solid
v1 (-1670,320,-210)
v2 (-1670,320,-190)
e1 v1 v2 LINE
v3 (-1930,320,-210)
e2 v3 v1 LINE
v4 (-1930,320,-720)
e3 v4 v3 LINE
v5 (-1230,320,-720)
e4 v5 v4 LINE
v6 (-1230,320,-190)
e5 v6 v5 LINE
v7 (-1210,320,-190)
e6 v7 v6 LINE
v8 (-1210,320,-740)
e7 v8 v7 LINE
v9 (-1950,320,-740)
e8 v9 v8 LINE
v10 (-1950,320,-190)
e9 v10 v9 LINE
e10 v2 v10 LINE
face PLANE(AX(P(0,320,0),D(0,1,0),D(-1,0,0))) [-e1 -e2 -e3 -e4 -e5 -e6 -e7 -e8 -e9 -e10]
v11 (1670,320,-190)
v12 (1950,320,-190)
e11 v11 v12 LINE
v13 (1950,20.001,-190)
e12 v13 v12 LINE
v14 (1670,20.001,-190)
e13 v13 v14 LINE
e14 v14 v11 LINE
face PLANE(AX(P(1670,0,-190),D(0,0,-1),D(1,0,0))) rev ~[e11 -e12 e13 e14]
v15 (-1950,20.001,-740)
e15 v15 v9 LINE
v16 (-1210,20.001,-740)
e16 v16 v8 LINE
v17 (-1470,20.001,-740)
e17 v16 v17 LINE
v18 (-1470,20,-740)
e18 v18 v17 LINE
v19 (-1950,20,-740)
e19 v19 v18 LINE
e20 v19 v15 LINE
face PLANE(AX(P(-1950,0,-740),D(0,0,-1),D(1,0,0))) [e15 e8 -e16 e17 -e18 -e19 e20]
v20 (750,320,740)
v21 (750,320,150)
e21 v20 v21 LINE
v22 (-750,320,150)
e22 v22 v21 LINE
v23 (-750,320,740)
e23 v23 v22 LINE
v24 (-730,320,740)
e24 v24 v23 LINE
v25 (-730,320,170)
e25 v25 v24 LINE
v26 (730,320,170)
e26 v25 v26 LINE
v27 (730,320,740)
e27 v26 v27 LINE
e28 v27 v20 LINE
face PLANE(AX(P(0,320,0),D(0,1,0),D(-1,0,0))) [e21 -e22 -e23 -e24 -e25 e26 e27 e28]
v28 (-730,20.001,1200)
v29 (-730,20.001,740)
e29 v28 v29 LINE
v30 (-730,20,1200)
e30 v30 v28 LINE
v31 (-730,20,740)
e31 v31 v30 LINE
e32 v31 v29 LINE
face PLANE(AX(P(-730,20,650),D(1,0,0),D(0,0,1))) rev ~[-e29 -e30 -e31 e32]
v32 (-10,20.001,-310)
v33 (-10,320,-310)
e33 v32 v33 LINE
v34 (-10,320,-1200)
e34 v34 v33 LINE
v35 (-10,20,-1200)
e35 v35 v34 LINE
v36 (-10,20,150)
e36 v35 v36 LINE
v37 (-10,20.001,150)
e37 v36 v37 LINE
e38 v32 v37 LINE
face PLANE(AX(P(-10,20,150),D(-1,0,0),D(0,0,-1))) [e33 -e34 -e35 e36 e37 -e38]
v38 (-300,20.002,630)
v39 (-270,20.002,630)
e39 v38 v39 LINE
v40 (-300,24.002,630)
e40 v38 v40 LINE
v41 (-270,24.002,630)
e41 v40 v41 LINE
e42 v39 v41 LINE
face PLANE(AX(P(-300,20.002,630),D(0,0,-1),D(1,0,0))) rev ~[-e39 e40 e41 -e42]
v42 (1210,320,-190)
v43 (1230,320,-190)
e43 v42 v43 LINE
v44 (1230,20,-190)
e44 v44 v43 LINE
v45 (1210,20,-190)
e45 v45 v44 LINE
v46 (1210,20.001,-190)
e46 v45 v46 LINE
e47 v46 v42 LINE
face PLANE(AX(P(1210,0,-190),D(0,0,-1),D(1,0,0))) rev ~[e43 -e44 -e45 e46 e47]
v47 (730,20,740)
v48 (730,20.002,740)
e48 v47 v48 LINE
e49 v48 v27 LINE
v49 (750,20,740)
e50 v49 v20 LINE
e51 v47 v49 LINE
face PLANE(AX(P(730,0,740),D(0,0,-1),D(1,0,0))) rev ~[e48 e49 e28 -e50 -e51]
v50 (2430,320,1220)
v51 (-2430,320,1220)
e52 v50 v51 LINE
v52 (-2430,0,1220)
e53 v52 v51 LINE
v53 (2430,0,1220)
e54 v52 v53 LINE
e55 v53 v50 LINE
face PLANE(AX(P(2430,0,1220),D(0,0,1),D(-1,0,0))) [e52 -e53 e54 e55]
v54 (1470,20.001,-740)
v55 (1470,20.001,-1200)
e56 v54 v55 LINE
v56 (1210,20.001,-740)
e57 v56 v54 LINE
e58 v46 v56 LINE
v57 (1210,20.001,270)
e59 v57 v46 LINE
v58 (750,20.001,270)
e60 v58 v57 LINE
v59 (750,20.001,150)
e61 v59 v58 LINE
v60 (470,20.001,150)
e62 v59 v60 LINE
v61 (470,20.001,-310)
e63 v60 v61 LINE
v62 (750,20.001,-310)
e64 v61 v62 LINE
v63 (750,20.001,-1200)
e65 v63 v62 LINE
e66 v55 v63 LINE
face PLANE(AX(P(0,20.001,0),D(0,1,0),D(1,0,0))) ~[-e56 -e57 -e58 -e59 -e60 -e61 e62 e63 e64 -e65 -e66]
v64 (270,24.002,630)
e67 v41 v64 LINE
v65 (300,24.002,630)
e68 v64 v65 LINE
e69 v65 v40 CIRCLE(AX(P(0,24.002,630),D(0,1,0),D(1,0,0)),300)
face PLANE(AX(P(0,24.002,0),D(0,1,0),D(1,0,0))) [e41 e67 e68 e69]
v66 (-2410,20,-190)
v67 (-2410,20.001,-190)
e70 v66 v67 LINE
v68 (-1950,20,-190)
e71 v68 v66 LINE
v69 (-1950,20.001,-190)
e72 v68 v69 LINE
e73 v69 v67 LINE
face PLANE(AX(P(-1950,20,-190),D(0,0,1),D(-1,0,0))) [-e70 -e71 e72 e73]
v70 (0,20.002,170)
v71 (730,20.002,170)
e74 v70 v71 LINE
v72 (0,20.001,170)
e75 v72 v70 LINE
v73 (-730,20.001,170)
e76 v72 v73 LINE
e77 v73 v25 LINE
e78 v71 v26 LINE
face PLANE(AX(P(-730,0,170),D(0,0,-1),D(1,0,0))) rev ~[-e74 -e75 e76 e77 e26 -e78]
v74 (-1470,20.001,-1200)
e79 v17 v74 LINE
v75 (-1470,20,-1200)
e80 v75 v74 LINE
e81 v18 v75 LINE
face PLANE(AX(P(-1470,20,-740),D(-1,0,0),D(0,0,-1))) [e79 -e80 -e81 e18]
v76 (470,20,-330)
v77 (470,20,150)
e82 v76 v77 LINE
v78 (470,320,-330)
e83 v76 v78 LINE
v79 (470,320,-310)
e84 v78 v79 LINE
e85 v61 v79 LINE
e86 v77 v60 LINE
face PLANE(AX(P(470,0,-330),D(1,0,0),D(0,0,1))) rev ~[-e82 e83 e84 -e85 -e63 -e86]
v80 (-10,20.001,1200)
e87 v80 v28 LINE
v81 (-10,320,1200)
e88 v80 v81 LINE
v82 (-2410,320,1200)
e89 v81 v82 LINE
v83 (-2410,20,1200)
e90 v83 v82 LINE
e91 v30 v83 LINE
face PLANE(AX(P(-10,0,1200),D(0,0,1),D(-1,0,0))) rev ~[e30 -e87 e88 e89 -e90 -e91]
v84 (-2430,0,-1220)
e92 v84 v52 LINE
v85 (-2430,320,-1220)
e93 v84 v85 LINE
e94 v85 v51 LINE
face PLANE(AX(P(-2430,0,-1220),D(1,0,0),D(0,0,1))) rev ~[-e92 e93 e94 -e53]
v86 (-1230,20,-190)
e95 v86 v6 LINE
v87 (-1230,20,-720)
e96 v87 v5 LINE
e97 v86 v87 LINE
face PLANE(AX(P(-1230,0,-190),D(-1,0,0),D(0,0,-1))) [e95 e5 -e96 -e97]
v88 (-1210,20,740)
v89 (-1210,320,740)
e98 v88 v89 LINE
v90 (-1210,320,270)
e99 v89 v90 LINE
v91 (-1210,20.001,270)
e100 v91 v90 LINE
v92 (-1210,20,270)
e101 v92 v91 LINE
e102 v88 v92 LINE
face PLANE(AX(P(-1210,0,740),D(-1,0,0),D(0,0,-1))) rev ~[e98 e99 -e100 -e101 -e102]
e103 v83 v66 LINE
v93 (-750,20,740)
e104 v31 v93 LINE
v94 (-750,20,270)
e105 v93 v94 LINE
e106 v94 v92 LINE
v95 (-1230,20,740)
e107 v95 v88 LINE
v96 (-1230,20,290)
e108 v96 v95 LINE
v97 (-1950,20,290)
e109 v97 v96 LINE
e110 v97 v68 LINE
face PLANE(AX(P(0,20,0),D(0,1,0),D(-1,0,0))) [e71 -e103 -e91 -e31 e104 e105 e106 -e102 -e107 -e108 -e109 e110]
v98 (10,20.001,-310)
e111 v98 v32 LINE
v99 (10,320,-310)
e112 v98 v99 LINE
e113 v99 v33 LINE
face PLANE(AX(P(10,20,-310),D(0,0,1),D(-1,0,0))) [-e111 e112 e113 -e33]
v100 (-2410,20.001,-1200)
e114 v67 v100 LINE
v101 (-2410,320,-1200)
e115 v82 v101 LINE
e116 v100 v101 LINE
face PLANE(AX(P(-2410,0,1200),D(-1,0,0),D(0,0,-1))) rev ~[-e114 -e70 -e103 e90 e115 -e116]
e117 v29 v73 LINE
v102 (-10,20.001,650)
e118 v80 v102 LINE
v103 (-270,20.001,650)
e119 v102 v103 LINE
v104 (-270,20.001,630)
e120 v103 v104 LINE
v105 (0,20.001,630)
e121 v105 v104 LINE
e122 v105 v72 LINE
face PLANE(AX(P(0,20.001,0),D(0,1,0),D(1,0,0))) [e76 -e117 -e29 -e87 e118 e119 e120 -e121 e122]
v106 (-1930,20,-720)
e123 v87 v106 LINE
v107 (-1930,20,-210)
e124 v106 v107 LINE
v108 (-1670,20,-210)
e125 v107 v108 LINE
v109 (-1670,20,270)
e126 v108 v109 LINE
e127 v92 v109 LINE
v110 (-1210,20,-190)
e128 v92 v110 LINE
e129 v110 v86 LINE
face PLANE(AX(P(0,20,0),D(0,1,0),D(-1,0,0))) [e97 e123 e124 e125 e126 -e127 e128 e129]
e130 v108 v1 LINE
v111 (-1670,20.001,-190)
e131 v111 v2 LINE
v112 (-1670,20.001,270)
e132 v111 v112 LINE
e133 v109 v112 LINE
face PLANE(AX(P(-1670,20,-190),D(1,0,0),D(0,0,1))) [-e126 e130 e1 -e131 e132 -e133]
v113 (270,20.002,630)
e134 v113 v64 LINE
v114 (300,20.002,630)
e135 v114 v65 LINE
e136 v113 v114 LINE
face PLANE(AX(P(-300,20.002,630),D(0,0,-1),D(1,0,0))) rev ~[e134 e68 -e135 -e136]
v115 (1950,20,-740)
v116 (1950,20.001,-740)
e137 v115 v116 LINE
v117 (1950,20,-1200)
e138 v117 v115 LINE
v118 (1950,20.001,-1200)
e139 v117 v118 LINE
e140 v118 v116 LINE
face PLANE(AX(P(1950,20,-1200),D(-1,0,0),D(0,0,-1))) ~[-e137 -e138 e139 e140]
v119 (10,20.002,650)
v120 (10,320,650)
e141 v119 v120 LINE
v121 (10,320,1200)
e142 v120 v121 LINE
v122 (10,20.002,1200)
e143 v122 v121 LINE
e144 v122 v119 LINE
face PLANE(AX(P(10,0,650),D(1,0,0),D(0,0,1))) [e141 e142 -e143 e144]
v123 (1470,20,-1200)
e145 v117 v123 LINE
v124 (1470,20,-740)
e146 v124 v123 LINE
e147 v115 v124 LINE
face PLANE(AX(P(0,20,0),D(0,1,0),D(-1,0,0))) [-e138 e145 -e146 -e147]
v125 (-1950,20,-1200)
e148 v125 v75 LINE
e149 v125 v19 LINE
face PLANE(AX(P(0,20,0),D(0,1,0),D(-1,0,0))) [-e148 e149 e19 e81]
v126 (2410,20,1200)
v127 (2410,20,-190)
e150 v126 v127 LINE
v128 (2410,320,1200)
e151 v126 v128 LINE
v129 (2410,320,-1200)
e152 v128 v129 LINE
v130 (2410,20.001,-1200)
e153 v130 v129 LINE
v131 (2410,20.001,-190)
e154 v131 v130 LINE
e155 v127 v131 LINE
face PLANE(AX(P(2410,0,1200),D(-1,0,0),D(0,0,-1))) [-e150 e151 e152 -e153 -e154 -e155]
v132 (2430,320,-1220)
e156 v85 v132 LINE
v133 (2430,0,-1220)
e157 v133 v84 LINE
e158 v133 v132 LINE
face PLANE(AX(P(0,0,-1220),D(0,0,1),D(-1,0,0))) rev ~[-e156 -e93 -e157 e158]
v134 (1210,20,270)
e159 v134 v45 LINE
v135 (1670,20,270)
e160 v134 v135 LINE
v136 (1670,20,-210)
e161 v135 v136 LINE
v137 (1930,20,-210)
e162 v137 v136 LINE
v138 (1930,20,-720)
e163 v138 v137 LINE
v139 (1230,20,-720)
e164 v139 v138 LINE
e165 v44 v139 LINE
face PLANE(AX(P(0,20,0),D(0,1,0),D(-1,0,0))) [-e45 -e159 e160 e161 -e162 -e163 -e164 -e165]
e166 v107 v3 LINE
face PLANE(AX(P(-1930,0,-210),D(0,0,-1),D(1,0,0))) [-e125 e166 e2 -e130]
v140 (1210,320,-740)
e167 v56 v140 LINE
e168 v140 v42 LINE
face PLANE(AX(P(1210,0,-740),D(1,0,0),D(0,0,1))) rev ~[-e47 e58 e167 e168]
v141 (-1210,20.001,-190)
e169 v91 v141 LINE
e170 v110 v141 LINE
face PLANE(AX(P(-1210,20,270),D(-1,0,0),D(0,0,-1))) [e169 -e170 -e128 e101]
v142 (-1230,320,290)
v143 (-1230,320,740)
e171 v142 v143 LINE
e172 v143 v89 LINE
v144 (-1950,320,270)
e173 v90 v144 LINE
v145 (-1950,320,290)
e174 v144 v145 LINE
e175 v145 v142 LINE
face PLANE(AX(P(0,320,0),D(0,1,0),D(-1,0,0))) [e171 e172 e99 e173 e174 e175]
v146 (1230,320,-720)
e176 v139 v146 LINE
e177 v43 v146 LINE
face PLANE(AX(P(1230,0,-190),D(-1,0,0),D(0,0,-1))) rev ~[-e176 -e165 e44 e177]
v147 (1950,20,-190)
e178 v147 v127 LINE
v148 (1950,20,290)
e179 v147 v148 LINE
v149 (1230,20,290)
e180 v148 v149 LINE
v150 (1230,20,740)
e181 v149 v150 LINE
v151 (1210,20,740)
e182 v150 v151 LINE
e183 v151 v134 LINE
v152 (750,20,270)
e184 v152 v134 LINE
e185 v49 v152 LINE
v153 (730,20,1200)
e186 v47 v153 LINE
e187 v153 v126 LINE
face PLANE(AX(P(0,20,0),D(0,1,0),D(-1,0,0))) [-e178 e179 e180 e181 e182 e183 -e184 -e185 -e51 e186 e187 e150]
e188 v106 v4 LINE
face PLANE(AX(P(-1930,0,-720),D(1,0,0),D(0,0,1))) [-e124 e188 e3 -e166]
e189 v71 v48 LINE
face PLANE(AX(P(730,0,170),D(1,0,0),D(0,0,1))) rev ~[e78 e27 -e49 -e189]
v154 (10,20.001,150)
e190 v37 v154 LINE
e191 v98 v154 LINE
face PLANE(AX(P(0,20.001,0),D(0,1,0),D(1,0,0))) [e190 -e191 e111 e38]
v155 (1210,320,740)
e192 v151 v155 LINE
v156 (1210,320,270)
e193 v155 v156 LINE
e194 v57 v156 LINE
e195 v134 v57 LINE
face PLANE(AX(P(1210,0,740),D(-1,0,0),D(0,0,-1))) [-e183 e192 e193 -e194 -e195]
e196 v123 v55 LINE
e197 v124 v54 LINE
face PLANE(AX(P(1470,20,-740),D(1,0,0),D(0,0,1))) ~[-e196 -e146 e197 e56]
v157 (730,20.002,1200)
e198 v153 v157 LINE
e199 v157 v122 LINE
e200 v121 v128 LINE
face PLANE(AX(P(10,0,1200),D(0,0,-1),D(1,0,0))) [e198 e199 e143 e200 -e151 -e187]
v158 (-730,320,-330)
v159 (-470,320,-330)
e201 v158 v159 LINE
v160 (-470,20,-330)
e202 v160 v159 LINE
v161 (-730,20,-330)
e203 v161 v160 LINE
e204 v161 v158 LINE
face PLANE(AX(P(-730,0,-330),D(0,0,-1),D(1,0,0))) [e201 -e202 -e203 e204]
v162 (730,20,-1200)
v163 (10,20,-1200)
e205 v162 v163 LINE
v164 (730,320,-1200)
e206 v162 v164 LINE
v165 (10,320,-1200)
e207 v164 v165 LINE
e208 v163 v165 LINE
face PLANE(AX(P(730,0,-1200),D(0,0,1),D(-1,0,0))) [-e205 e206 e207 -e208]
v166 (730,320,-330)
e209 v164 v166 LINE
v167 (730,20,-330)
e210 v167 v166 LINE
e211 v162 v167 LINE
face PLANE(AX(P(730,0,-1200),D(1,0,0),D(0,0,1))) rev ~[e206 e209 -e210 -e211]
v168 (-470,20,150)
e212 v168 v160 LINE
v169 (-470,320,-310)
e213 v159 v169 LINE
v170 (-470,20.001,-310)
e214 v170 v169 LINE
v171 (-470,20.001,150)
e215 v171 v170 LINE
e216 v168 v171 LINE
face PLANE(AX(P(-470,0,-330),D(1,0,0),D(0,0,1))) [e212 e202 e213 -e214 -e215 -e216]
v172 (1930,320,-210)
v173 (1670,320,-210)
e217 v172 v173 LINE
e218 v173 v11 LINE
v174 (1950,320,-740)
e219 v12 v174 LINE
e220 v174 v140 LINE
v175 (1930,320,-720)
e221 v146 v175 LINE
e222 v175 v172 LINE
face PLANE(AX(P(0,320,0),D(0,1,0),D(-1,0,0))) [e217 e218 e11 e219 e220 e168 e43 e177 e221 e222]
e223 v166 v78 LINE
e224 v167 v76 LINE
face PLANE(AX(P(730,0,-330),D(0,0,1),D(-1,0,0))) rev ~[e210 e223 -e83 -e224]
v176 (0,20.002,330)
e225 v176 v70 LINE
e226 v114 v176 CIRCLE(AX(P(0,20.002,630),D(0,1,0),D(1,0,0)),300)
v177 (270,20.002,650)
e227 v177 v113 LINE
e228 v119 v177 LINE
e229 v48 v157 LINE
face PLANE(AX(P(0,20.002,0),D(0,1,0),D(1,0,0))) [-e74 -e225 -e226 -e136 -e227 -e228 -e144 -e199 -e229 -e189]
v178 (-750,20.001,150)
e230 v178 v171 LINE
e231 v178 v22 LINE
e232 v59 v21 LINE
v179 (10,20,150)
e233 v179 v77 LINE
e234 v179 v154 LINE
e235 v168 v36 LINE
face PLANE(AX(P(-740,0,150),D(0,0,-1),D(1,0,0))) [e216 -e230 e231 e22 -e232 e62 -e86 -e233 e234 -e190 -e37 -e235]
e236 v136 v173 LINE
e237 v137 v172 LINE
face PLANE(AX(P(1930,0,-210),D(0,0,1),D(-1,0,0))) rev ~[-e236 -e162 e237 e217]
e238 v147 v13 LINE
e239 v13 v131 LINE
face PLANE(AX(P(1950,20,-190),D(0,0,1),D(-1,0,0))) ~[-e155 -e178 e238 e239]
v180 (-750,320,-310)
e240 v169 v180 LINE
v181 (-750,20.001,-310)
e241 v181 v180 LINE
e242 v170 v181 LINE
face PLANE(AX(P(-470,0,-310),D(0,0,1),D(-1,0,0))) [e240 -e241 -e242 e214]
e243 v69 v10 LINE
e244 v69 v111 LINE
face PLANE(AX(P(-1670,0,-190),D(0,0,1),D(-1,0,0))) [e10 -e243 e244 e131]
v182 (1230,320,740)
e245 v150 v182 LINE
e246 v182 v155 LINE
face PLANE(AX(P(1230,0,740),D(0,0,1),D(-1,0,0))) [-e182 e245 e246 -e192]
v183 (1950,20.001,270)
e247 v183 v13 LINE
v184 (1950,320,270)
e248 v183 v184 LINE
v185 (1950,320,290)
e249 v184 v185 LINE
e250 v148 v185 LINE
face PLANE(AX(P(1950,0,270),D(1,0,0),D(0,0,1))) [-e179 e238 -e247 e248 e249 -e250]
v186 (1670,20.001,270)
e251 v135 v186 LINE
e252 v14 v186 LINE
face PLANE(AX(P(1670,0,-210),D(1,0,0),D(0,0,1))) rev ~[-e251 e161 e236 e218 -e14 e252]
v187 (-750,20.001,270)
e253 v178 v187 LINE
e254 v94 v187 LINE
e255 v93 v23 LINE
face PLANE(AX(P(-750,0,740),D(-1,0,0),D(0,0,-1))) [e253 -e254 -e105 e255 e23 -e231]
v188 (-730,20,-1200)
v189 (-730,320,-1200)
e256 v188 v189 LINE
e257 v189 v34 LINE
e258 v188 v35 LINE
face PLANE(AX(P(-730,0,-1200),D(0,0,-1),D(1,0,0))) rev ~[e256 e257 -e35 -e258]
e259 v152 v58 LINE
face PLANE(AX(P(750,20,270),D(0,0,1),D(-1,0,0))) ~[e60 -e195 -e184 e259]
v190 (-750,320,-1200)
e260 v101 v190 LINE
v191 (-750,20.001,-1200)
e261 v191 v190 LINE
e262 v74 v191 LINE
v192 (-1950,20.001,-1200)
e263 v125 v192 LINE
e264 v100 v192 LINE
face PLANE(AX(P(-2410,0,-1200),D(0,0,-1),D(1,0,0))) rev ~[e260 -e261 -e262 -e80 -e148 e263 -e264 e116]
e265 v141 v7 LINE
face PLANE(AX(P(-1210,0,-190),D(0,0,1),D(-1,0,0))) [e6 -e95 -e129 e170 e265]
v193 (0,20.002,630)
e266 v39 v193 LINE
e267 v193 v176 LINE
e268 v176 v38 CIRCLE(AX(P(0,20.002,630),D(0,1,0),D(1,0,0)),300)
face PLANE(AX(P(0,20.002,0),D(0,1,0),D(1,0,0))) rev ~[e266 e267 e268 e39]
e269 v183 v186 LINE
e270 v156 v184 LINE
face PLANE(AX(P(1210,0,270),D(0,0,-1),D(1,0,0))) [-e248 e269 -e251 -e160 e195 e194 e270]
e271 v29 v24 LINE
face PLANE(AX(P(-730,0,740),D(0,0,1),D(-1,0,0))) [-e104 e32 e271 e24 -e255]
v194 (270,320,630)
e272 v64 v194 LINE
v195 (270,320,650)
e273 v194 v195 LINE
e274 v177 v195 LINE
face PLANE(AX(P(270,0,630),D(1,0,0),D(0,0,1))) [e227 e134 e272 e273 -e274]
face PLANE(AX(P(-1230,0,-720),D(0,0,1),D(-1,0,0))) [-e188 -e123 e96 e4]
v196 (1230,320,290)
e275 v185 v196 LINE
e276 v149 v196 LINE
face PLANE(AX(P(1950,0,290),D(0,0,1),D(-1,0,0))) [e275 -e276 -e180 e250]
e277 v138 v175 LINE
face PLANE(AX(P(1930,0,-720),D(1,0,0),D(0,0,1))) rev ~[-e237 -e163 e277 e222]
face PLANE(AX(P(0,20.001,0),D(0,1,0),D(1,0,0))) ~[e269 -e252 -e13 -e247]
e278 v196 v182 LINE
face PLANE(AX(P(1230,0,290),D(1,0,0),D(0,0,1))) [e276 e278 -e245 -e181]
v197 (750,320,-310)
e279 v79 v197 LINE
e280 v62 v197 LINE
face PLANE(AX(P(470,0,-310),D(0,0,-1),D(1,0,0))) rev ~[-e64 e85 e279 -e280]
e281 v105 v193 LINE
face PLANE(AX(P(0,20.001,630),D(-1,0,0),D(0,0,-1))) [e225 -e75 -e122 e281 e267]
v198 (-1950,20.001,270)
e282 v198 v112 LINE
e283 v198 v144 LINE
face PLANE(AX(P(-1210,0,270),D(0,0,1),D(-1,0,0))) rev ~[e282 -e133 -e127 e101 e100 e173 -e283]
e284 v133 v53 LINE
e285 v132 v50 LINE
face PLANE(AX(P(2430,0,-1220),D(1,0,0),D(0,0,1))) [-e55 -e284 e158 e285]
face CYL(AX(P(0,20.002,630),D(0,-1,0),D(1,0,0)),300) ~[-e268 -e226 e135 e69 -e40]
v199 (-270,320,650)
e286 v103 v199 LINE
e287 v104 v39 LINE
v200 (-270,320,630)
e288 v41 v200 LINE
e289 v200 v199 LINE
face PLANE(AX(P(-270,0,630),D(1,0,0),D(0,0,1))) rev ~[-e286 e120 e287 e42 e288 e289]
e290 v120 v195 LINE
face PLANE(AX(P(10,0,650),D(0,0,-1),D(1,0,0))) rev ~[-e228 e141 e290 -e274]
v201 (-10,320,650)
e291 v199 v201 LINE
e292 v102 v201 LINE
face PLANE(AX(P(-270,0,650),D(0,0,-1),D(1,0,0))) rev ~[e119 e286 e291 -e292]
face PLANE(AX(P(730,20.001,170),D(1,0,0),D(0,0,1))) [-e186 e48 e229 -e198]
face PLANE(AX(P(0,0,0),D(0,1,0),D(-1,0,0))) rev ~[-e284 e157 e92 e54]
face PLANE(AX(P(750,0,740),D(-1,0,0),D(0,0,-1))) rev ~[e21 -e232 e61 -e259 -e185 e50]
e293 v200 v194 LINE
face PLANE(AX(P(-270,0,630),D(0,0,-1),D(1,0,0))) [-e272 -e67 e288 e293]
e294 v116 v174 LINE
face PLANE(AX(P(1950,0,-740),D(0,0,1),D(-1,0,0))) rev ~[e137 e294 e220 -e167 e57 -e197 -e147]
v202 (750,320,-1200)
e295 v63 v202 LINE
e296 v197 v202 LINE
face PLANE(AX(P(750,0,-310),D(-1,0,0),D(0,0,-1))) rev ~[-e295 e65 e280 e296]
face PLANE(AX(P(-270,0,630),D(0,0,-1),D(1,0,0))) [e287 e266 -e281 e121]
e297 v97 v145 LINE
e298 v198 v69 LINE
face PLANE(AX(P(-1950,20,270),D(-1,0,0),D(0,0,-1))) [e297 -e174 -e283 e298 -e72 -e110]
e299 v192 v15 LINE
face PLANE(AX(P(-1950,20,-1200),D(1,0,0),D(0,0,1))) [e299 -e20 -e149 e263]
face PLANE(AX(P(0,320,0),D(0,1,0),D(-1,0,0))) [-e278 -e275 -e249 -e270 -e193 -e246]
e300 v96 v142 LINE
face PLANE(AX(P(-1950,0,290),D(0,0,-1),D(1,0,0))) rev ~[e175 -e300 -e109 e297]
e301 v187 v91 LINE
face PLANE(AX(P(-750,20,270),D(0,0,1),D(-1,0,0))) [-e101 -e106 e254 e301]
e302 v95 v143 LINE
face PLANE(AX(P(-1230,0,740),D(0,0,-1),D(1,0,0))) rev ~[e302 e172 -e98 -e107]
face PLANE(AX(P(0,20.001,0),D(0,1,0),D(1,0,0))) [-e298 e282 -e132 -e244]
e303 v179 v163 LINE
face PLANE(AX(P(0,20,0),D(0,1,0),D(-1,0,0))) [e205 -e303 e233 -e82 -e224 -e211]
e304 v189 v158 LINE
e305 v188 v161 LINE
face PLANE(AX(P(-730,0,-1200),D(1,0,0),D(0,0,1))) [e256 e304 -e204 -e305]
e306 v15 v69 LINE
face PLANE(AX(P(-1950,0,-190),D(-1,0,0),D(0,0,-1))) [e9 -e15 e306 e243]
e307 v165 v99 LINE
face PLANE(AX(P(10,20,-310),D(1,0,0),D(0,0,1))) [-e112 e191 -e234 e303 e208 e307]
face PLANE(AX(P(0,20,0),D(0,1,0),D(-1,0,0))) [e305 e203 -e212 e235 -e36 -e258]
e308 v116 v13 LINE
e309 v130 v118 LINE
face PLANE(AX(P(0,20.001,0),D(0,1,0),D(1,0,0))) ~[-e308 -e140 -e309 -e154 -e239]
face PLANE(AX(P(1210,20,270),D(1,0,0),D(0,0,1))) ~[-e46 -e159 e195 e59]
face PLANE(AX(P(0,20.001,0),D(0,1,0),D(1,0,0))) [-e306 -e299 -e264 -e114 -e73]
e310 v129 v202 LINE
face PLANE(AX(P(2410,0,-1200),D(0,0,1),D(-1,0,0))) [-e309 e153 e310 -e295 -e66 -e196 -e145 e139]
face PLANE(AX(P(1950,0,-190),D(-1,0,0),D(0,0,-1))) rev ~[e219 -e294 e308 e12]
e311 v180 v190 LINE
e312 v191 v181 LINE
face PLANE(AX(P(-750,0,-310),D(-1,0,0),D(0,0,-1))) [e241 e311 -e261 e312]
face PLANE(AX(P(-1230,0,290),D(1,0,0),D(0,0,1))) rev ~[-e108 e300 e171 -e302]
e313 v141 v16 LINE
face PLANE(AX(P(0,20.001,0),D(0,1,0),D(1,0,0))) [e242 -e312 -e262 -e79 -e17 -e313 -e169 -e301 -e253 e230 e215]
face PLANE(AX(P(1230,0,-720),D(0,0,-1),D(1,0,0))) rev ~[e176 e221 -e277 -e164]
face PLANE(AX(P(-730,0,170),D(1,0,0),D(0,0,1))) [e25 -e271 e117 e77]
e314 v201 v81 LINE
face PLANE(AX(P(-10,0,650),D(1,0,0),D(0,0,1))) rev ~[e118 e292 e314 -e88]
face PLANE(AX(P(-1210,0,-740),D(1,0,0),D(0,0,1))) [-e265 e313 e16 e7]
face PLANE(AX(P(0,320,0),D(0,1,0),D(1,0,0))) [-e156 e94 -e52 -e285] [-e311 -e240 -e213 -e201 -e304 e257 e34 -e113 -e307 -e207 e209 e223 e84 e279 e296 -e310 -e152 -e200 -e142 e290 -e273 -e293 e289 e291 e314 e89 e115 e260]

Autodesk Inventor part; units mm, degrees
ref_plane "YZ Plane" through (0, 0, 0) normal (1, 0, 0) x (0, 1, 0)
ref_plane "XY Plane" through (0, 0, 0) normal (0, 0, 1) x (1, 0, 0)
sketch "Sketch1" plane through (0, 0, 0) normal (0, 1, 0) x (-1, 0, 0)
  line L0 (2430, 1220) -> (0, 1220)
  line L1 (0, -1220) -> (2430, -1220)
  line L2 (2430, -1220) -> (2430, 1220)
  line L3 (2410, 1200) -> (2410, -1200)
  line L4 (10, 650) -> (10, 1200)
  line L5 (740, 150) -> (0, 150)
  line L6 (730, 170) -> (730, 740)
  line L7 (730, 740) -> (750, 740)
  line L8 (750, 740) -> (750, 150)
  line L9 (750, 150) -> (740, 150)
  line L10 (1210, 740) -> (1210, 270)
  line L11 (1230, 290) -> (1230, 740)
  line L12 (1230, 740) -> (1210, 740)
  line L13 (270, 630) -> (270, 650)
  line L14 (10, 1200) -> (2410, 1200)
  line L15 (0, -330) -> (10, -330)
  line L16 (0, -330) -> (10, -330) construction
  line L17 (10, -330) -> (10, -1200)
  line L18 (730, -1200) -> (730, -330)
  line L19 (750, -1200) -> (1600, -1200) construction
  line L20 (730, -330) -> (470, -330)
  line L21 (470, -330) -> (470, -310)
  line L22 (470, -310) -> (750, -310)
  line L23 (750, -310) -> (750, -1200)
  line L24 (2410, -1200) -> (750, -1200)
  line L25 (730, -1200) -> (10, -1200)
  line L26 (0, -1200) -> (730, -1200) construction
  line L27 (750, -1200) -> (870, -1200) construction
  line L28 (1210, 270) -> (1950, 270)
  line L29 (1210, 270) -> (1950, 270) construction
  line L30 (1950, 270) -> (1950, 290)
  line L31 (1950, 290) -> (1230, 290)
  line L32 (1950, -190) -> (1950, -740)
  line L33 (1950, -740) -> (1210, -740)
  line L34 (1210, -740) -> (1210, -190)
  line L35 (1210, -190) -> (1230, -190)
  line L36 (1210, -190) -> (1230, -190) construction
  line L37 (1230, -190) -> (1230, -720)
  line L38 (1230, -720) -> (1930, -720)
  line L39 (1930, -720) -> (1930, -210)
  line L40 (1930, -210) -> (1670, -210)
  line L41 (1670, -210) -> (1670, -190)
  line L42 (1670, -190) -> (1950, -190)
  line L43 (-2430, 1220) -> (0, 1220)
  line L44 (0, -1220) -> (-2430, -1220)
  line L45 (-2430, -1220) -> (-2430, 1220)
  line L46 (-2410, 1200) -> (-2410, -1200)
  line L47 (-10, 650) -> (-10, 1200)
  line L48 (-740, 150) -> (0, 150)
  line L49 (-730, 170) -> (-730, 740)
  line L50 (-730, 740) -> (-750, 740)
  line L51 (-750, 740) -> (-750, 150)
  line L52 (-750, 150) -> (-740, 150)
  line L53 (-1210, 740) -> (-1210, 270)
  line L54 (-1230, 290) -> (-1230, 740)
  line L55 (-1230, 740) -> (-1210, 740)
  line L56 (-270, 630) -> (-270, 650)
  line L57 (-10, 1200) -> (-2410, 1200)
  line L58 (0, -330) -> (-10, -330)
  line L59 (0, -330) -> (-10, -330) construction
  line L60 (-10, -330) -> (-10, -1200)
  line L61 (-730, -1200) -> (-730, -330)
  line L62 (-750, -1200) -> (-1600, -1200) construction
  line L63 (-730, -330) -> (-470, -330)
  line L64 (-470, -330) -> (-470, -310)
  line L65 (-470, -310) -> (-750, -310)
  line L66 (-750, -310) -> (-750, -1200)
  line L67 (-2410, -1200) -> (-750, -1200)
  line L68 (-730, -1200) -> (-10, -1200)
  line L69 (0, -1200) -> (-730, -1200) construction
  line L70 (-750, -1200) -> (-870, -1200) construction
  line L71 (-1210, 270) -> (-1950, 270)
  line L72 (-1210, 270) -> (-1950, 270) construction
  line L73 (-1950, 270) -> (-1950, 290)
  line L74 (-1950, 290) -> (-1230, 290)
  line L75 (-1950, -190) -> (-1950, -740)
  line L76 (-1950, -740) -> (-1210, -740)
  line L77 (-1210, -740) -> (-1210, -190)
  line L78 (-1210, -190) -> (-1230, -190)
  line L79 (-1210, -190) -> (-1230, -190) construction
  line L80 (-1230, -190) -> (-1230, -720)
  line L81 (-1230, -720) -> (-1930, -720)
  line L82 (-1930, -720) -> (-1930, -210)
  line L83 (-1930, -210) -> (-1670, -210)
  line L84 (-1670, -210) -> (-1670, -190)
  line L85 (-1670, -190) -> (-1950, -190)
  line L86 (270, 630) -> (-270, 630)
  line L87 (270, 650) -> (10, 650)
  line L88 (-10, 650) -> (-270, 650)
  line L89 (730, 170) -> (-730, 170)
  point P0 (0, 0)
  dimension "d274" = 4860
  dimension "d275" = 2440
  dimension "d276" = 2400
  dimension "d277" = 2400
  dimension "d278" = 720
  dimension "d279" = 450
  dimension "d280" = 20
  dimension "d281" = 470
  dimension "d282" = 740
  dimension "d283" = 20
  dimension "d284" = 700
  dimension "d285" = 510
  dimension "d286" = 260
  dimension "d287" = 20
  dimension "d288" = 280
  dimension "d289" = 550
  dimension "d290" = 740
  dimension "d291" = 550
  dimension "d292" = 20
  dimension "d293" = 530
  dimension "d294" = 890
  dimension "d295" = 280
  dimension "d296" = 20
  dimension "d297" = 260
  dimension "d298" = 870
  dimension "d300" = 870
  dimension "d301" = 20
  dimension "d302" = 550
  dimension "d303" = 260
  dimension "d304" = 20
  dimension "d305" = 540
  dimension "d306" = 570
  dimension "d307" = 20
  dimension "d308" = 590
  dimension "d309" = 1500
  dimension "d310" = 1460
  dimension "d311" = 2400
  dimension "d312" = 20
  dimension "d313" = 20
  dimension "d314" = 20
  dimension "d315" = 20
  dimension "d316" = 20
  dimension "d318" = 1660
  dimension "d319" = 20
  dimension "d320" = 720
  dimension "d324" = 20
  dimension "d330" = 720
  dimension "d331" = 740
  dimension "d332" = 470
  dimension "d333" = 20
  dimension "d334" = 20
  dimension "d336" = 530
  dimension "d337" = 510
  dimension "d338" = 260
  dimension "d339" = 20
  dimension "d341" = 550
  dimension "d343" = 550
  dimension "d346" = 870
  dimension "d352" = 460
  dimension "d353" = 460
  dimension "d356" = 460
  dimension "d358" = 460
  dimension "d359" = 460
  dimension "d364" = 460
extrude "Extrusion1" add sketch "Sketch1" along normal blind 20 contours L3 L24 L23 L22 L21 L20 L18 L25 L17 L15 L58 L60 L68 L61 L63 L64 L65 L66 L67 L46 L57 L47 L88 L56 L86 L13 L87 L4 L14
extrude "Extrusion2" add sketch "Sketch1" along normal blind 320
sketch "Sketch3" plane through (0, 20, 0) normal (0, 1, 0) x (1, 0, 0)
  line L0 (-2410, 1200) -> (-1950, 1200)
  line L1 (-1950, 1200) -> (-1950, 190)
  line L2 (-1950, 190) -> (-2410, 190)
  line L3 (-2410, 190) -> (-2410, 1200)
  line L4 (-1950, -270) -> (-1210, -270) projected
  line L5 (-1950, 190) -> (-1670, 190)
  line L6 (-1670, 190) -> (-1670, -270)
  line L7 (-1670, -270) -> (-1950, -270)
  line L8 (-1950, -270) -> (-1950, 190)
  line L9 (-750, 1200) -> (-2410, 1200) projected
  line L10 (-1210, 1200) -> (-750, 1200)
  line L11 (-750, 1200) -> (-750, -270)
  line L12 (-750, -270) -> (-1210, -270)
  line L13 (-1210, -270) -> (-1210, 1200)
  line L14 (-470, 310) -> (-750, 310)
  line L15 (-750, 310) -> (-750, -150)
  line L16 (-750, -150) -> (-470, -150)
  line L17 (-470, -150) -> (-470, 310)
  line L18 (-2410, 1200) -> (-750, 1200) projected
  line L19 (-1210, 740) -> (-1470, 740)
  line L20 (-1470, 740) -> (-1470, 1200)
  line L21 (-1470, 1200) -> (-1210, 1200)
  line L22 (-1210, 1200) -> (-1210, 740)
  line L23 (-10, -1200) -> (-2410, -1200) projected
  line L24 (-10, -650) -> (-730, -650)
  line L25 (-730, -650) -> (-730, -1200)
  line L26 (-730, -1200) -> (-10, -1200)
  line L27 (-10, -1200) -> (-10, -650)
  line L28 (-270, -632.8872) -> (-270, -650)
  line L29 (-270, -650) -> (-730, -650)
  line L30 (-730, -650) -> (-730, -632.8872)
  line L31 (270, -630) -> (-270, -630) projected
  line L32 (-730, -170) -> (0, -170)
  line L33 (0, -170) -> (0, -630)
  line L34 (0, -630) -> (-730, -630)
  line L35 (-730, -630) -> (-730, -170)
  line L36 (-270, -630) -> (-730, -630)
  line L37 (-730, -630) -> (-730, -650)
  line L38 (-730, -650) -> (-270, -650)
  line L39 (-270, -650) -> (-270, -630)
  point P0 (0, 0)
  dimension "d181" = 260
extrude "Extrusion3" add sketch "Sketch3" along normal blind 0.001 contours L0 L1 L2 L3 | L5 L6 L4 L8 | L9 L13 L19 L20 | L9 L11 L12 L13 | L14 L17 L16 L11 | L23 L25 L24 L27 | L30 L37 L34 L39 L28 L24 | L35 L32 L33 L31 L34
mirror "Mirror1" about plane through (0, 0, 0) normal (1, 0, 0) of "Extrusion3"
sketch "Sketch4" plane through (0, 20.001, 0) normal (0, 1, 0) x (1, 0, 0)
  line L0 (-730, -170) -> (730, -170) projected
  line L1 (730, -170) -> (730, -740) projected
  line L2 (0, -170) -> (730, -170)
  line L3 (730, -170) -> (730, -630)
  line L4 (730, -630) -> (0, -630)
  line L5 (0, -630) -> (0, -170)
  line L6 (10, -650) -> (730, -650)
  line L7 (730, -650) -> (730, -1200)
  line L8 (730, -1200) -> (10, -1200)
  line L9 (10, -1200) -> (10, -650)
  line L10 (270, -630) -> (730, -630)
  line L11 (730, -630) -> (730, -650)
  line L12 (730, -650) -> (270, -650)
  line L13 (270, -650) -> (270, -630)
  point P0 (0, 0)
  dimension "d185" = 460
extrude "Extrusion4" add sketch "Sketch4" along normal blind 0.001
sketch "Sketch5" plane through (0, 20, 0) normal (0, 1, 0) x (1, 0, 0)
  line L0 (-10, 330) -> (10, 330)
  line L1 (-470, -150) -> (470, -150) projected
  line L2 (10, -130) -> (10, -150)
  line L3 (10, -150) -> (-10, -150)
  line L4 (-10, -150) -> (-10, -130)
  line L5 (-10, 330) -> (10, 330)
  line L6 (10, 330) -> (10, 310)
  line L7 (10, 310) -> (-10, 310)
  line L8 (-10, 310) -> (-10, 330)
  line L9 (-10, 310) -> (10, 310)
  line L10 (10, 310) -> (10, -150)
  line L11 (10, -150) -> (-10, -150)
  line L12 (-10, -150) -> (-10, 310)
  point P0 (0, 0)
  dimension "d190" = 20
  dimension "d193" = 20
  dimension "d194" = 460
extrude "Extrusion5" add sketch "Sketch5" along normal blind 300 contours L0 L6 L7 L8
extrude "Extrusion6" add sketch "Sketch5" along normal blind 0.001 contours L7 L10 L2 L1 L4 L12
sketch "Sketch6" plane through (0, 20.002, 0) normal (0, 1, 0) x (1, 0, 0)
  arc A0 (300, -630) -> (-300, -630) centre (0, -630) ccw
  line L0 (-300, -630) -> (300, -630)
  point P0 (0, 0)
  dimension "d197" = 600
extrude "Extrusion7" add sketch "Sketch6" along normal blind 4
ref_plane "Work Plane1" through (0, 20, 0) normal (0, 1, 0) x (-1, 0, 0)
properties part number "Lapangan"
